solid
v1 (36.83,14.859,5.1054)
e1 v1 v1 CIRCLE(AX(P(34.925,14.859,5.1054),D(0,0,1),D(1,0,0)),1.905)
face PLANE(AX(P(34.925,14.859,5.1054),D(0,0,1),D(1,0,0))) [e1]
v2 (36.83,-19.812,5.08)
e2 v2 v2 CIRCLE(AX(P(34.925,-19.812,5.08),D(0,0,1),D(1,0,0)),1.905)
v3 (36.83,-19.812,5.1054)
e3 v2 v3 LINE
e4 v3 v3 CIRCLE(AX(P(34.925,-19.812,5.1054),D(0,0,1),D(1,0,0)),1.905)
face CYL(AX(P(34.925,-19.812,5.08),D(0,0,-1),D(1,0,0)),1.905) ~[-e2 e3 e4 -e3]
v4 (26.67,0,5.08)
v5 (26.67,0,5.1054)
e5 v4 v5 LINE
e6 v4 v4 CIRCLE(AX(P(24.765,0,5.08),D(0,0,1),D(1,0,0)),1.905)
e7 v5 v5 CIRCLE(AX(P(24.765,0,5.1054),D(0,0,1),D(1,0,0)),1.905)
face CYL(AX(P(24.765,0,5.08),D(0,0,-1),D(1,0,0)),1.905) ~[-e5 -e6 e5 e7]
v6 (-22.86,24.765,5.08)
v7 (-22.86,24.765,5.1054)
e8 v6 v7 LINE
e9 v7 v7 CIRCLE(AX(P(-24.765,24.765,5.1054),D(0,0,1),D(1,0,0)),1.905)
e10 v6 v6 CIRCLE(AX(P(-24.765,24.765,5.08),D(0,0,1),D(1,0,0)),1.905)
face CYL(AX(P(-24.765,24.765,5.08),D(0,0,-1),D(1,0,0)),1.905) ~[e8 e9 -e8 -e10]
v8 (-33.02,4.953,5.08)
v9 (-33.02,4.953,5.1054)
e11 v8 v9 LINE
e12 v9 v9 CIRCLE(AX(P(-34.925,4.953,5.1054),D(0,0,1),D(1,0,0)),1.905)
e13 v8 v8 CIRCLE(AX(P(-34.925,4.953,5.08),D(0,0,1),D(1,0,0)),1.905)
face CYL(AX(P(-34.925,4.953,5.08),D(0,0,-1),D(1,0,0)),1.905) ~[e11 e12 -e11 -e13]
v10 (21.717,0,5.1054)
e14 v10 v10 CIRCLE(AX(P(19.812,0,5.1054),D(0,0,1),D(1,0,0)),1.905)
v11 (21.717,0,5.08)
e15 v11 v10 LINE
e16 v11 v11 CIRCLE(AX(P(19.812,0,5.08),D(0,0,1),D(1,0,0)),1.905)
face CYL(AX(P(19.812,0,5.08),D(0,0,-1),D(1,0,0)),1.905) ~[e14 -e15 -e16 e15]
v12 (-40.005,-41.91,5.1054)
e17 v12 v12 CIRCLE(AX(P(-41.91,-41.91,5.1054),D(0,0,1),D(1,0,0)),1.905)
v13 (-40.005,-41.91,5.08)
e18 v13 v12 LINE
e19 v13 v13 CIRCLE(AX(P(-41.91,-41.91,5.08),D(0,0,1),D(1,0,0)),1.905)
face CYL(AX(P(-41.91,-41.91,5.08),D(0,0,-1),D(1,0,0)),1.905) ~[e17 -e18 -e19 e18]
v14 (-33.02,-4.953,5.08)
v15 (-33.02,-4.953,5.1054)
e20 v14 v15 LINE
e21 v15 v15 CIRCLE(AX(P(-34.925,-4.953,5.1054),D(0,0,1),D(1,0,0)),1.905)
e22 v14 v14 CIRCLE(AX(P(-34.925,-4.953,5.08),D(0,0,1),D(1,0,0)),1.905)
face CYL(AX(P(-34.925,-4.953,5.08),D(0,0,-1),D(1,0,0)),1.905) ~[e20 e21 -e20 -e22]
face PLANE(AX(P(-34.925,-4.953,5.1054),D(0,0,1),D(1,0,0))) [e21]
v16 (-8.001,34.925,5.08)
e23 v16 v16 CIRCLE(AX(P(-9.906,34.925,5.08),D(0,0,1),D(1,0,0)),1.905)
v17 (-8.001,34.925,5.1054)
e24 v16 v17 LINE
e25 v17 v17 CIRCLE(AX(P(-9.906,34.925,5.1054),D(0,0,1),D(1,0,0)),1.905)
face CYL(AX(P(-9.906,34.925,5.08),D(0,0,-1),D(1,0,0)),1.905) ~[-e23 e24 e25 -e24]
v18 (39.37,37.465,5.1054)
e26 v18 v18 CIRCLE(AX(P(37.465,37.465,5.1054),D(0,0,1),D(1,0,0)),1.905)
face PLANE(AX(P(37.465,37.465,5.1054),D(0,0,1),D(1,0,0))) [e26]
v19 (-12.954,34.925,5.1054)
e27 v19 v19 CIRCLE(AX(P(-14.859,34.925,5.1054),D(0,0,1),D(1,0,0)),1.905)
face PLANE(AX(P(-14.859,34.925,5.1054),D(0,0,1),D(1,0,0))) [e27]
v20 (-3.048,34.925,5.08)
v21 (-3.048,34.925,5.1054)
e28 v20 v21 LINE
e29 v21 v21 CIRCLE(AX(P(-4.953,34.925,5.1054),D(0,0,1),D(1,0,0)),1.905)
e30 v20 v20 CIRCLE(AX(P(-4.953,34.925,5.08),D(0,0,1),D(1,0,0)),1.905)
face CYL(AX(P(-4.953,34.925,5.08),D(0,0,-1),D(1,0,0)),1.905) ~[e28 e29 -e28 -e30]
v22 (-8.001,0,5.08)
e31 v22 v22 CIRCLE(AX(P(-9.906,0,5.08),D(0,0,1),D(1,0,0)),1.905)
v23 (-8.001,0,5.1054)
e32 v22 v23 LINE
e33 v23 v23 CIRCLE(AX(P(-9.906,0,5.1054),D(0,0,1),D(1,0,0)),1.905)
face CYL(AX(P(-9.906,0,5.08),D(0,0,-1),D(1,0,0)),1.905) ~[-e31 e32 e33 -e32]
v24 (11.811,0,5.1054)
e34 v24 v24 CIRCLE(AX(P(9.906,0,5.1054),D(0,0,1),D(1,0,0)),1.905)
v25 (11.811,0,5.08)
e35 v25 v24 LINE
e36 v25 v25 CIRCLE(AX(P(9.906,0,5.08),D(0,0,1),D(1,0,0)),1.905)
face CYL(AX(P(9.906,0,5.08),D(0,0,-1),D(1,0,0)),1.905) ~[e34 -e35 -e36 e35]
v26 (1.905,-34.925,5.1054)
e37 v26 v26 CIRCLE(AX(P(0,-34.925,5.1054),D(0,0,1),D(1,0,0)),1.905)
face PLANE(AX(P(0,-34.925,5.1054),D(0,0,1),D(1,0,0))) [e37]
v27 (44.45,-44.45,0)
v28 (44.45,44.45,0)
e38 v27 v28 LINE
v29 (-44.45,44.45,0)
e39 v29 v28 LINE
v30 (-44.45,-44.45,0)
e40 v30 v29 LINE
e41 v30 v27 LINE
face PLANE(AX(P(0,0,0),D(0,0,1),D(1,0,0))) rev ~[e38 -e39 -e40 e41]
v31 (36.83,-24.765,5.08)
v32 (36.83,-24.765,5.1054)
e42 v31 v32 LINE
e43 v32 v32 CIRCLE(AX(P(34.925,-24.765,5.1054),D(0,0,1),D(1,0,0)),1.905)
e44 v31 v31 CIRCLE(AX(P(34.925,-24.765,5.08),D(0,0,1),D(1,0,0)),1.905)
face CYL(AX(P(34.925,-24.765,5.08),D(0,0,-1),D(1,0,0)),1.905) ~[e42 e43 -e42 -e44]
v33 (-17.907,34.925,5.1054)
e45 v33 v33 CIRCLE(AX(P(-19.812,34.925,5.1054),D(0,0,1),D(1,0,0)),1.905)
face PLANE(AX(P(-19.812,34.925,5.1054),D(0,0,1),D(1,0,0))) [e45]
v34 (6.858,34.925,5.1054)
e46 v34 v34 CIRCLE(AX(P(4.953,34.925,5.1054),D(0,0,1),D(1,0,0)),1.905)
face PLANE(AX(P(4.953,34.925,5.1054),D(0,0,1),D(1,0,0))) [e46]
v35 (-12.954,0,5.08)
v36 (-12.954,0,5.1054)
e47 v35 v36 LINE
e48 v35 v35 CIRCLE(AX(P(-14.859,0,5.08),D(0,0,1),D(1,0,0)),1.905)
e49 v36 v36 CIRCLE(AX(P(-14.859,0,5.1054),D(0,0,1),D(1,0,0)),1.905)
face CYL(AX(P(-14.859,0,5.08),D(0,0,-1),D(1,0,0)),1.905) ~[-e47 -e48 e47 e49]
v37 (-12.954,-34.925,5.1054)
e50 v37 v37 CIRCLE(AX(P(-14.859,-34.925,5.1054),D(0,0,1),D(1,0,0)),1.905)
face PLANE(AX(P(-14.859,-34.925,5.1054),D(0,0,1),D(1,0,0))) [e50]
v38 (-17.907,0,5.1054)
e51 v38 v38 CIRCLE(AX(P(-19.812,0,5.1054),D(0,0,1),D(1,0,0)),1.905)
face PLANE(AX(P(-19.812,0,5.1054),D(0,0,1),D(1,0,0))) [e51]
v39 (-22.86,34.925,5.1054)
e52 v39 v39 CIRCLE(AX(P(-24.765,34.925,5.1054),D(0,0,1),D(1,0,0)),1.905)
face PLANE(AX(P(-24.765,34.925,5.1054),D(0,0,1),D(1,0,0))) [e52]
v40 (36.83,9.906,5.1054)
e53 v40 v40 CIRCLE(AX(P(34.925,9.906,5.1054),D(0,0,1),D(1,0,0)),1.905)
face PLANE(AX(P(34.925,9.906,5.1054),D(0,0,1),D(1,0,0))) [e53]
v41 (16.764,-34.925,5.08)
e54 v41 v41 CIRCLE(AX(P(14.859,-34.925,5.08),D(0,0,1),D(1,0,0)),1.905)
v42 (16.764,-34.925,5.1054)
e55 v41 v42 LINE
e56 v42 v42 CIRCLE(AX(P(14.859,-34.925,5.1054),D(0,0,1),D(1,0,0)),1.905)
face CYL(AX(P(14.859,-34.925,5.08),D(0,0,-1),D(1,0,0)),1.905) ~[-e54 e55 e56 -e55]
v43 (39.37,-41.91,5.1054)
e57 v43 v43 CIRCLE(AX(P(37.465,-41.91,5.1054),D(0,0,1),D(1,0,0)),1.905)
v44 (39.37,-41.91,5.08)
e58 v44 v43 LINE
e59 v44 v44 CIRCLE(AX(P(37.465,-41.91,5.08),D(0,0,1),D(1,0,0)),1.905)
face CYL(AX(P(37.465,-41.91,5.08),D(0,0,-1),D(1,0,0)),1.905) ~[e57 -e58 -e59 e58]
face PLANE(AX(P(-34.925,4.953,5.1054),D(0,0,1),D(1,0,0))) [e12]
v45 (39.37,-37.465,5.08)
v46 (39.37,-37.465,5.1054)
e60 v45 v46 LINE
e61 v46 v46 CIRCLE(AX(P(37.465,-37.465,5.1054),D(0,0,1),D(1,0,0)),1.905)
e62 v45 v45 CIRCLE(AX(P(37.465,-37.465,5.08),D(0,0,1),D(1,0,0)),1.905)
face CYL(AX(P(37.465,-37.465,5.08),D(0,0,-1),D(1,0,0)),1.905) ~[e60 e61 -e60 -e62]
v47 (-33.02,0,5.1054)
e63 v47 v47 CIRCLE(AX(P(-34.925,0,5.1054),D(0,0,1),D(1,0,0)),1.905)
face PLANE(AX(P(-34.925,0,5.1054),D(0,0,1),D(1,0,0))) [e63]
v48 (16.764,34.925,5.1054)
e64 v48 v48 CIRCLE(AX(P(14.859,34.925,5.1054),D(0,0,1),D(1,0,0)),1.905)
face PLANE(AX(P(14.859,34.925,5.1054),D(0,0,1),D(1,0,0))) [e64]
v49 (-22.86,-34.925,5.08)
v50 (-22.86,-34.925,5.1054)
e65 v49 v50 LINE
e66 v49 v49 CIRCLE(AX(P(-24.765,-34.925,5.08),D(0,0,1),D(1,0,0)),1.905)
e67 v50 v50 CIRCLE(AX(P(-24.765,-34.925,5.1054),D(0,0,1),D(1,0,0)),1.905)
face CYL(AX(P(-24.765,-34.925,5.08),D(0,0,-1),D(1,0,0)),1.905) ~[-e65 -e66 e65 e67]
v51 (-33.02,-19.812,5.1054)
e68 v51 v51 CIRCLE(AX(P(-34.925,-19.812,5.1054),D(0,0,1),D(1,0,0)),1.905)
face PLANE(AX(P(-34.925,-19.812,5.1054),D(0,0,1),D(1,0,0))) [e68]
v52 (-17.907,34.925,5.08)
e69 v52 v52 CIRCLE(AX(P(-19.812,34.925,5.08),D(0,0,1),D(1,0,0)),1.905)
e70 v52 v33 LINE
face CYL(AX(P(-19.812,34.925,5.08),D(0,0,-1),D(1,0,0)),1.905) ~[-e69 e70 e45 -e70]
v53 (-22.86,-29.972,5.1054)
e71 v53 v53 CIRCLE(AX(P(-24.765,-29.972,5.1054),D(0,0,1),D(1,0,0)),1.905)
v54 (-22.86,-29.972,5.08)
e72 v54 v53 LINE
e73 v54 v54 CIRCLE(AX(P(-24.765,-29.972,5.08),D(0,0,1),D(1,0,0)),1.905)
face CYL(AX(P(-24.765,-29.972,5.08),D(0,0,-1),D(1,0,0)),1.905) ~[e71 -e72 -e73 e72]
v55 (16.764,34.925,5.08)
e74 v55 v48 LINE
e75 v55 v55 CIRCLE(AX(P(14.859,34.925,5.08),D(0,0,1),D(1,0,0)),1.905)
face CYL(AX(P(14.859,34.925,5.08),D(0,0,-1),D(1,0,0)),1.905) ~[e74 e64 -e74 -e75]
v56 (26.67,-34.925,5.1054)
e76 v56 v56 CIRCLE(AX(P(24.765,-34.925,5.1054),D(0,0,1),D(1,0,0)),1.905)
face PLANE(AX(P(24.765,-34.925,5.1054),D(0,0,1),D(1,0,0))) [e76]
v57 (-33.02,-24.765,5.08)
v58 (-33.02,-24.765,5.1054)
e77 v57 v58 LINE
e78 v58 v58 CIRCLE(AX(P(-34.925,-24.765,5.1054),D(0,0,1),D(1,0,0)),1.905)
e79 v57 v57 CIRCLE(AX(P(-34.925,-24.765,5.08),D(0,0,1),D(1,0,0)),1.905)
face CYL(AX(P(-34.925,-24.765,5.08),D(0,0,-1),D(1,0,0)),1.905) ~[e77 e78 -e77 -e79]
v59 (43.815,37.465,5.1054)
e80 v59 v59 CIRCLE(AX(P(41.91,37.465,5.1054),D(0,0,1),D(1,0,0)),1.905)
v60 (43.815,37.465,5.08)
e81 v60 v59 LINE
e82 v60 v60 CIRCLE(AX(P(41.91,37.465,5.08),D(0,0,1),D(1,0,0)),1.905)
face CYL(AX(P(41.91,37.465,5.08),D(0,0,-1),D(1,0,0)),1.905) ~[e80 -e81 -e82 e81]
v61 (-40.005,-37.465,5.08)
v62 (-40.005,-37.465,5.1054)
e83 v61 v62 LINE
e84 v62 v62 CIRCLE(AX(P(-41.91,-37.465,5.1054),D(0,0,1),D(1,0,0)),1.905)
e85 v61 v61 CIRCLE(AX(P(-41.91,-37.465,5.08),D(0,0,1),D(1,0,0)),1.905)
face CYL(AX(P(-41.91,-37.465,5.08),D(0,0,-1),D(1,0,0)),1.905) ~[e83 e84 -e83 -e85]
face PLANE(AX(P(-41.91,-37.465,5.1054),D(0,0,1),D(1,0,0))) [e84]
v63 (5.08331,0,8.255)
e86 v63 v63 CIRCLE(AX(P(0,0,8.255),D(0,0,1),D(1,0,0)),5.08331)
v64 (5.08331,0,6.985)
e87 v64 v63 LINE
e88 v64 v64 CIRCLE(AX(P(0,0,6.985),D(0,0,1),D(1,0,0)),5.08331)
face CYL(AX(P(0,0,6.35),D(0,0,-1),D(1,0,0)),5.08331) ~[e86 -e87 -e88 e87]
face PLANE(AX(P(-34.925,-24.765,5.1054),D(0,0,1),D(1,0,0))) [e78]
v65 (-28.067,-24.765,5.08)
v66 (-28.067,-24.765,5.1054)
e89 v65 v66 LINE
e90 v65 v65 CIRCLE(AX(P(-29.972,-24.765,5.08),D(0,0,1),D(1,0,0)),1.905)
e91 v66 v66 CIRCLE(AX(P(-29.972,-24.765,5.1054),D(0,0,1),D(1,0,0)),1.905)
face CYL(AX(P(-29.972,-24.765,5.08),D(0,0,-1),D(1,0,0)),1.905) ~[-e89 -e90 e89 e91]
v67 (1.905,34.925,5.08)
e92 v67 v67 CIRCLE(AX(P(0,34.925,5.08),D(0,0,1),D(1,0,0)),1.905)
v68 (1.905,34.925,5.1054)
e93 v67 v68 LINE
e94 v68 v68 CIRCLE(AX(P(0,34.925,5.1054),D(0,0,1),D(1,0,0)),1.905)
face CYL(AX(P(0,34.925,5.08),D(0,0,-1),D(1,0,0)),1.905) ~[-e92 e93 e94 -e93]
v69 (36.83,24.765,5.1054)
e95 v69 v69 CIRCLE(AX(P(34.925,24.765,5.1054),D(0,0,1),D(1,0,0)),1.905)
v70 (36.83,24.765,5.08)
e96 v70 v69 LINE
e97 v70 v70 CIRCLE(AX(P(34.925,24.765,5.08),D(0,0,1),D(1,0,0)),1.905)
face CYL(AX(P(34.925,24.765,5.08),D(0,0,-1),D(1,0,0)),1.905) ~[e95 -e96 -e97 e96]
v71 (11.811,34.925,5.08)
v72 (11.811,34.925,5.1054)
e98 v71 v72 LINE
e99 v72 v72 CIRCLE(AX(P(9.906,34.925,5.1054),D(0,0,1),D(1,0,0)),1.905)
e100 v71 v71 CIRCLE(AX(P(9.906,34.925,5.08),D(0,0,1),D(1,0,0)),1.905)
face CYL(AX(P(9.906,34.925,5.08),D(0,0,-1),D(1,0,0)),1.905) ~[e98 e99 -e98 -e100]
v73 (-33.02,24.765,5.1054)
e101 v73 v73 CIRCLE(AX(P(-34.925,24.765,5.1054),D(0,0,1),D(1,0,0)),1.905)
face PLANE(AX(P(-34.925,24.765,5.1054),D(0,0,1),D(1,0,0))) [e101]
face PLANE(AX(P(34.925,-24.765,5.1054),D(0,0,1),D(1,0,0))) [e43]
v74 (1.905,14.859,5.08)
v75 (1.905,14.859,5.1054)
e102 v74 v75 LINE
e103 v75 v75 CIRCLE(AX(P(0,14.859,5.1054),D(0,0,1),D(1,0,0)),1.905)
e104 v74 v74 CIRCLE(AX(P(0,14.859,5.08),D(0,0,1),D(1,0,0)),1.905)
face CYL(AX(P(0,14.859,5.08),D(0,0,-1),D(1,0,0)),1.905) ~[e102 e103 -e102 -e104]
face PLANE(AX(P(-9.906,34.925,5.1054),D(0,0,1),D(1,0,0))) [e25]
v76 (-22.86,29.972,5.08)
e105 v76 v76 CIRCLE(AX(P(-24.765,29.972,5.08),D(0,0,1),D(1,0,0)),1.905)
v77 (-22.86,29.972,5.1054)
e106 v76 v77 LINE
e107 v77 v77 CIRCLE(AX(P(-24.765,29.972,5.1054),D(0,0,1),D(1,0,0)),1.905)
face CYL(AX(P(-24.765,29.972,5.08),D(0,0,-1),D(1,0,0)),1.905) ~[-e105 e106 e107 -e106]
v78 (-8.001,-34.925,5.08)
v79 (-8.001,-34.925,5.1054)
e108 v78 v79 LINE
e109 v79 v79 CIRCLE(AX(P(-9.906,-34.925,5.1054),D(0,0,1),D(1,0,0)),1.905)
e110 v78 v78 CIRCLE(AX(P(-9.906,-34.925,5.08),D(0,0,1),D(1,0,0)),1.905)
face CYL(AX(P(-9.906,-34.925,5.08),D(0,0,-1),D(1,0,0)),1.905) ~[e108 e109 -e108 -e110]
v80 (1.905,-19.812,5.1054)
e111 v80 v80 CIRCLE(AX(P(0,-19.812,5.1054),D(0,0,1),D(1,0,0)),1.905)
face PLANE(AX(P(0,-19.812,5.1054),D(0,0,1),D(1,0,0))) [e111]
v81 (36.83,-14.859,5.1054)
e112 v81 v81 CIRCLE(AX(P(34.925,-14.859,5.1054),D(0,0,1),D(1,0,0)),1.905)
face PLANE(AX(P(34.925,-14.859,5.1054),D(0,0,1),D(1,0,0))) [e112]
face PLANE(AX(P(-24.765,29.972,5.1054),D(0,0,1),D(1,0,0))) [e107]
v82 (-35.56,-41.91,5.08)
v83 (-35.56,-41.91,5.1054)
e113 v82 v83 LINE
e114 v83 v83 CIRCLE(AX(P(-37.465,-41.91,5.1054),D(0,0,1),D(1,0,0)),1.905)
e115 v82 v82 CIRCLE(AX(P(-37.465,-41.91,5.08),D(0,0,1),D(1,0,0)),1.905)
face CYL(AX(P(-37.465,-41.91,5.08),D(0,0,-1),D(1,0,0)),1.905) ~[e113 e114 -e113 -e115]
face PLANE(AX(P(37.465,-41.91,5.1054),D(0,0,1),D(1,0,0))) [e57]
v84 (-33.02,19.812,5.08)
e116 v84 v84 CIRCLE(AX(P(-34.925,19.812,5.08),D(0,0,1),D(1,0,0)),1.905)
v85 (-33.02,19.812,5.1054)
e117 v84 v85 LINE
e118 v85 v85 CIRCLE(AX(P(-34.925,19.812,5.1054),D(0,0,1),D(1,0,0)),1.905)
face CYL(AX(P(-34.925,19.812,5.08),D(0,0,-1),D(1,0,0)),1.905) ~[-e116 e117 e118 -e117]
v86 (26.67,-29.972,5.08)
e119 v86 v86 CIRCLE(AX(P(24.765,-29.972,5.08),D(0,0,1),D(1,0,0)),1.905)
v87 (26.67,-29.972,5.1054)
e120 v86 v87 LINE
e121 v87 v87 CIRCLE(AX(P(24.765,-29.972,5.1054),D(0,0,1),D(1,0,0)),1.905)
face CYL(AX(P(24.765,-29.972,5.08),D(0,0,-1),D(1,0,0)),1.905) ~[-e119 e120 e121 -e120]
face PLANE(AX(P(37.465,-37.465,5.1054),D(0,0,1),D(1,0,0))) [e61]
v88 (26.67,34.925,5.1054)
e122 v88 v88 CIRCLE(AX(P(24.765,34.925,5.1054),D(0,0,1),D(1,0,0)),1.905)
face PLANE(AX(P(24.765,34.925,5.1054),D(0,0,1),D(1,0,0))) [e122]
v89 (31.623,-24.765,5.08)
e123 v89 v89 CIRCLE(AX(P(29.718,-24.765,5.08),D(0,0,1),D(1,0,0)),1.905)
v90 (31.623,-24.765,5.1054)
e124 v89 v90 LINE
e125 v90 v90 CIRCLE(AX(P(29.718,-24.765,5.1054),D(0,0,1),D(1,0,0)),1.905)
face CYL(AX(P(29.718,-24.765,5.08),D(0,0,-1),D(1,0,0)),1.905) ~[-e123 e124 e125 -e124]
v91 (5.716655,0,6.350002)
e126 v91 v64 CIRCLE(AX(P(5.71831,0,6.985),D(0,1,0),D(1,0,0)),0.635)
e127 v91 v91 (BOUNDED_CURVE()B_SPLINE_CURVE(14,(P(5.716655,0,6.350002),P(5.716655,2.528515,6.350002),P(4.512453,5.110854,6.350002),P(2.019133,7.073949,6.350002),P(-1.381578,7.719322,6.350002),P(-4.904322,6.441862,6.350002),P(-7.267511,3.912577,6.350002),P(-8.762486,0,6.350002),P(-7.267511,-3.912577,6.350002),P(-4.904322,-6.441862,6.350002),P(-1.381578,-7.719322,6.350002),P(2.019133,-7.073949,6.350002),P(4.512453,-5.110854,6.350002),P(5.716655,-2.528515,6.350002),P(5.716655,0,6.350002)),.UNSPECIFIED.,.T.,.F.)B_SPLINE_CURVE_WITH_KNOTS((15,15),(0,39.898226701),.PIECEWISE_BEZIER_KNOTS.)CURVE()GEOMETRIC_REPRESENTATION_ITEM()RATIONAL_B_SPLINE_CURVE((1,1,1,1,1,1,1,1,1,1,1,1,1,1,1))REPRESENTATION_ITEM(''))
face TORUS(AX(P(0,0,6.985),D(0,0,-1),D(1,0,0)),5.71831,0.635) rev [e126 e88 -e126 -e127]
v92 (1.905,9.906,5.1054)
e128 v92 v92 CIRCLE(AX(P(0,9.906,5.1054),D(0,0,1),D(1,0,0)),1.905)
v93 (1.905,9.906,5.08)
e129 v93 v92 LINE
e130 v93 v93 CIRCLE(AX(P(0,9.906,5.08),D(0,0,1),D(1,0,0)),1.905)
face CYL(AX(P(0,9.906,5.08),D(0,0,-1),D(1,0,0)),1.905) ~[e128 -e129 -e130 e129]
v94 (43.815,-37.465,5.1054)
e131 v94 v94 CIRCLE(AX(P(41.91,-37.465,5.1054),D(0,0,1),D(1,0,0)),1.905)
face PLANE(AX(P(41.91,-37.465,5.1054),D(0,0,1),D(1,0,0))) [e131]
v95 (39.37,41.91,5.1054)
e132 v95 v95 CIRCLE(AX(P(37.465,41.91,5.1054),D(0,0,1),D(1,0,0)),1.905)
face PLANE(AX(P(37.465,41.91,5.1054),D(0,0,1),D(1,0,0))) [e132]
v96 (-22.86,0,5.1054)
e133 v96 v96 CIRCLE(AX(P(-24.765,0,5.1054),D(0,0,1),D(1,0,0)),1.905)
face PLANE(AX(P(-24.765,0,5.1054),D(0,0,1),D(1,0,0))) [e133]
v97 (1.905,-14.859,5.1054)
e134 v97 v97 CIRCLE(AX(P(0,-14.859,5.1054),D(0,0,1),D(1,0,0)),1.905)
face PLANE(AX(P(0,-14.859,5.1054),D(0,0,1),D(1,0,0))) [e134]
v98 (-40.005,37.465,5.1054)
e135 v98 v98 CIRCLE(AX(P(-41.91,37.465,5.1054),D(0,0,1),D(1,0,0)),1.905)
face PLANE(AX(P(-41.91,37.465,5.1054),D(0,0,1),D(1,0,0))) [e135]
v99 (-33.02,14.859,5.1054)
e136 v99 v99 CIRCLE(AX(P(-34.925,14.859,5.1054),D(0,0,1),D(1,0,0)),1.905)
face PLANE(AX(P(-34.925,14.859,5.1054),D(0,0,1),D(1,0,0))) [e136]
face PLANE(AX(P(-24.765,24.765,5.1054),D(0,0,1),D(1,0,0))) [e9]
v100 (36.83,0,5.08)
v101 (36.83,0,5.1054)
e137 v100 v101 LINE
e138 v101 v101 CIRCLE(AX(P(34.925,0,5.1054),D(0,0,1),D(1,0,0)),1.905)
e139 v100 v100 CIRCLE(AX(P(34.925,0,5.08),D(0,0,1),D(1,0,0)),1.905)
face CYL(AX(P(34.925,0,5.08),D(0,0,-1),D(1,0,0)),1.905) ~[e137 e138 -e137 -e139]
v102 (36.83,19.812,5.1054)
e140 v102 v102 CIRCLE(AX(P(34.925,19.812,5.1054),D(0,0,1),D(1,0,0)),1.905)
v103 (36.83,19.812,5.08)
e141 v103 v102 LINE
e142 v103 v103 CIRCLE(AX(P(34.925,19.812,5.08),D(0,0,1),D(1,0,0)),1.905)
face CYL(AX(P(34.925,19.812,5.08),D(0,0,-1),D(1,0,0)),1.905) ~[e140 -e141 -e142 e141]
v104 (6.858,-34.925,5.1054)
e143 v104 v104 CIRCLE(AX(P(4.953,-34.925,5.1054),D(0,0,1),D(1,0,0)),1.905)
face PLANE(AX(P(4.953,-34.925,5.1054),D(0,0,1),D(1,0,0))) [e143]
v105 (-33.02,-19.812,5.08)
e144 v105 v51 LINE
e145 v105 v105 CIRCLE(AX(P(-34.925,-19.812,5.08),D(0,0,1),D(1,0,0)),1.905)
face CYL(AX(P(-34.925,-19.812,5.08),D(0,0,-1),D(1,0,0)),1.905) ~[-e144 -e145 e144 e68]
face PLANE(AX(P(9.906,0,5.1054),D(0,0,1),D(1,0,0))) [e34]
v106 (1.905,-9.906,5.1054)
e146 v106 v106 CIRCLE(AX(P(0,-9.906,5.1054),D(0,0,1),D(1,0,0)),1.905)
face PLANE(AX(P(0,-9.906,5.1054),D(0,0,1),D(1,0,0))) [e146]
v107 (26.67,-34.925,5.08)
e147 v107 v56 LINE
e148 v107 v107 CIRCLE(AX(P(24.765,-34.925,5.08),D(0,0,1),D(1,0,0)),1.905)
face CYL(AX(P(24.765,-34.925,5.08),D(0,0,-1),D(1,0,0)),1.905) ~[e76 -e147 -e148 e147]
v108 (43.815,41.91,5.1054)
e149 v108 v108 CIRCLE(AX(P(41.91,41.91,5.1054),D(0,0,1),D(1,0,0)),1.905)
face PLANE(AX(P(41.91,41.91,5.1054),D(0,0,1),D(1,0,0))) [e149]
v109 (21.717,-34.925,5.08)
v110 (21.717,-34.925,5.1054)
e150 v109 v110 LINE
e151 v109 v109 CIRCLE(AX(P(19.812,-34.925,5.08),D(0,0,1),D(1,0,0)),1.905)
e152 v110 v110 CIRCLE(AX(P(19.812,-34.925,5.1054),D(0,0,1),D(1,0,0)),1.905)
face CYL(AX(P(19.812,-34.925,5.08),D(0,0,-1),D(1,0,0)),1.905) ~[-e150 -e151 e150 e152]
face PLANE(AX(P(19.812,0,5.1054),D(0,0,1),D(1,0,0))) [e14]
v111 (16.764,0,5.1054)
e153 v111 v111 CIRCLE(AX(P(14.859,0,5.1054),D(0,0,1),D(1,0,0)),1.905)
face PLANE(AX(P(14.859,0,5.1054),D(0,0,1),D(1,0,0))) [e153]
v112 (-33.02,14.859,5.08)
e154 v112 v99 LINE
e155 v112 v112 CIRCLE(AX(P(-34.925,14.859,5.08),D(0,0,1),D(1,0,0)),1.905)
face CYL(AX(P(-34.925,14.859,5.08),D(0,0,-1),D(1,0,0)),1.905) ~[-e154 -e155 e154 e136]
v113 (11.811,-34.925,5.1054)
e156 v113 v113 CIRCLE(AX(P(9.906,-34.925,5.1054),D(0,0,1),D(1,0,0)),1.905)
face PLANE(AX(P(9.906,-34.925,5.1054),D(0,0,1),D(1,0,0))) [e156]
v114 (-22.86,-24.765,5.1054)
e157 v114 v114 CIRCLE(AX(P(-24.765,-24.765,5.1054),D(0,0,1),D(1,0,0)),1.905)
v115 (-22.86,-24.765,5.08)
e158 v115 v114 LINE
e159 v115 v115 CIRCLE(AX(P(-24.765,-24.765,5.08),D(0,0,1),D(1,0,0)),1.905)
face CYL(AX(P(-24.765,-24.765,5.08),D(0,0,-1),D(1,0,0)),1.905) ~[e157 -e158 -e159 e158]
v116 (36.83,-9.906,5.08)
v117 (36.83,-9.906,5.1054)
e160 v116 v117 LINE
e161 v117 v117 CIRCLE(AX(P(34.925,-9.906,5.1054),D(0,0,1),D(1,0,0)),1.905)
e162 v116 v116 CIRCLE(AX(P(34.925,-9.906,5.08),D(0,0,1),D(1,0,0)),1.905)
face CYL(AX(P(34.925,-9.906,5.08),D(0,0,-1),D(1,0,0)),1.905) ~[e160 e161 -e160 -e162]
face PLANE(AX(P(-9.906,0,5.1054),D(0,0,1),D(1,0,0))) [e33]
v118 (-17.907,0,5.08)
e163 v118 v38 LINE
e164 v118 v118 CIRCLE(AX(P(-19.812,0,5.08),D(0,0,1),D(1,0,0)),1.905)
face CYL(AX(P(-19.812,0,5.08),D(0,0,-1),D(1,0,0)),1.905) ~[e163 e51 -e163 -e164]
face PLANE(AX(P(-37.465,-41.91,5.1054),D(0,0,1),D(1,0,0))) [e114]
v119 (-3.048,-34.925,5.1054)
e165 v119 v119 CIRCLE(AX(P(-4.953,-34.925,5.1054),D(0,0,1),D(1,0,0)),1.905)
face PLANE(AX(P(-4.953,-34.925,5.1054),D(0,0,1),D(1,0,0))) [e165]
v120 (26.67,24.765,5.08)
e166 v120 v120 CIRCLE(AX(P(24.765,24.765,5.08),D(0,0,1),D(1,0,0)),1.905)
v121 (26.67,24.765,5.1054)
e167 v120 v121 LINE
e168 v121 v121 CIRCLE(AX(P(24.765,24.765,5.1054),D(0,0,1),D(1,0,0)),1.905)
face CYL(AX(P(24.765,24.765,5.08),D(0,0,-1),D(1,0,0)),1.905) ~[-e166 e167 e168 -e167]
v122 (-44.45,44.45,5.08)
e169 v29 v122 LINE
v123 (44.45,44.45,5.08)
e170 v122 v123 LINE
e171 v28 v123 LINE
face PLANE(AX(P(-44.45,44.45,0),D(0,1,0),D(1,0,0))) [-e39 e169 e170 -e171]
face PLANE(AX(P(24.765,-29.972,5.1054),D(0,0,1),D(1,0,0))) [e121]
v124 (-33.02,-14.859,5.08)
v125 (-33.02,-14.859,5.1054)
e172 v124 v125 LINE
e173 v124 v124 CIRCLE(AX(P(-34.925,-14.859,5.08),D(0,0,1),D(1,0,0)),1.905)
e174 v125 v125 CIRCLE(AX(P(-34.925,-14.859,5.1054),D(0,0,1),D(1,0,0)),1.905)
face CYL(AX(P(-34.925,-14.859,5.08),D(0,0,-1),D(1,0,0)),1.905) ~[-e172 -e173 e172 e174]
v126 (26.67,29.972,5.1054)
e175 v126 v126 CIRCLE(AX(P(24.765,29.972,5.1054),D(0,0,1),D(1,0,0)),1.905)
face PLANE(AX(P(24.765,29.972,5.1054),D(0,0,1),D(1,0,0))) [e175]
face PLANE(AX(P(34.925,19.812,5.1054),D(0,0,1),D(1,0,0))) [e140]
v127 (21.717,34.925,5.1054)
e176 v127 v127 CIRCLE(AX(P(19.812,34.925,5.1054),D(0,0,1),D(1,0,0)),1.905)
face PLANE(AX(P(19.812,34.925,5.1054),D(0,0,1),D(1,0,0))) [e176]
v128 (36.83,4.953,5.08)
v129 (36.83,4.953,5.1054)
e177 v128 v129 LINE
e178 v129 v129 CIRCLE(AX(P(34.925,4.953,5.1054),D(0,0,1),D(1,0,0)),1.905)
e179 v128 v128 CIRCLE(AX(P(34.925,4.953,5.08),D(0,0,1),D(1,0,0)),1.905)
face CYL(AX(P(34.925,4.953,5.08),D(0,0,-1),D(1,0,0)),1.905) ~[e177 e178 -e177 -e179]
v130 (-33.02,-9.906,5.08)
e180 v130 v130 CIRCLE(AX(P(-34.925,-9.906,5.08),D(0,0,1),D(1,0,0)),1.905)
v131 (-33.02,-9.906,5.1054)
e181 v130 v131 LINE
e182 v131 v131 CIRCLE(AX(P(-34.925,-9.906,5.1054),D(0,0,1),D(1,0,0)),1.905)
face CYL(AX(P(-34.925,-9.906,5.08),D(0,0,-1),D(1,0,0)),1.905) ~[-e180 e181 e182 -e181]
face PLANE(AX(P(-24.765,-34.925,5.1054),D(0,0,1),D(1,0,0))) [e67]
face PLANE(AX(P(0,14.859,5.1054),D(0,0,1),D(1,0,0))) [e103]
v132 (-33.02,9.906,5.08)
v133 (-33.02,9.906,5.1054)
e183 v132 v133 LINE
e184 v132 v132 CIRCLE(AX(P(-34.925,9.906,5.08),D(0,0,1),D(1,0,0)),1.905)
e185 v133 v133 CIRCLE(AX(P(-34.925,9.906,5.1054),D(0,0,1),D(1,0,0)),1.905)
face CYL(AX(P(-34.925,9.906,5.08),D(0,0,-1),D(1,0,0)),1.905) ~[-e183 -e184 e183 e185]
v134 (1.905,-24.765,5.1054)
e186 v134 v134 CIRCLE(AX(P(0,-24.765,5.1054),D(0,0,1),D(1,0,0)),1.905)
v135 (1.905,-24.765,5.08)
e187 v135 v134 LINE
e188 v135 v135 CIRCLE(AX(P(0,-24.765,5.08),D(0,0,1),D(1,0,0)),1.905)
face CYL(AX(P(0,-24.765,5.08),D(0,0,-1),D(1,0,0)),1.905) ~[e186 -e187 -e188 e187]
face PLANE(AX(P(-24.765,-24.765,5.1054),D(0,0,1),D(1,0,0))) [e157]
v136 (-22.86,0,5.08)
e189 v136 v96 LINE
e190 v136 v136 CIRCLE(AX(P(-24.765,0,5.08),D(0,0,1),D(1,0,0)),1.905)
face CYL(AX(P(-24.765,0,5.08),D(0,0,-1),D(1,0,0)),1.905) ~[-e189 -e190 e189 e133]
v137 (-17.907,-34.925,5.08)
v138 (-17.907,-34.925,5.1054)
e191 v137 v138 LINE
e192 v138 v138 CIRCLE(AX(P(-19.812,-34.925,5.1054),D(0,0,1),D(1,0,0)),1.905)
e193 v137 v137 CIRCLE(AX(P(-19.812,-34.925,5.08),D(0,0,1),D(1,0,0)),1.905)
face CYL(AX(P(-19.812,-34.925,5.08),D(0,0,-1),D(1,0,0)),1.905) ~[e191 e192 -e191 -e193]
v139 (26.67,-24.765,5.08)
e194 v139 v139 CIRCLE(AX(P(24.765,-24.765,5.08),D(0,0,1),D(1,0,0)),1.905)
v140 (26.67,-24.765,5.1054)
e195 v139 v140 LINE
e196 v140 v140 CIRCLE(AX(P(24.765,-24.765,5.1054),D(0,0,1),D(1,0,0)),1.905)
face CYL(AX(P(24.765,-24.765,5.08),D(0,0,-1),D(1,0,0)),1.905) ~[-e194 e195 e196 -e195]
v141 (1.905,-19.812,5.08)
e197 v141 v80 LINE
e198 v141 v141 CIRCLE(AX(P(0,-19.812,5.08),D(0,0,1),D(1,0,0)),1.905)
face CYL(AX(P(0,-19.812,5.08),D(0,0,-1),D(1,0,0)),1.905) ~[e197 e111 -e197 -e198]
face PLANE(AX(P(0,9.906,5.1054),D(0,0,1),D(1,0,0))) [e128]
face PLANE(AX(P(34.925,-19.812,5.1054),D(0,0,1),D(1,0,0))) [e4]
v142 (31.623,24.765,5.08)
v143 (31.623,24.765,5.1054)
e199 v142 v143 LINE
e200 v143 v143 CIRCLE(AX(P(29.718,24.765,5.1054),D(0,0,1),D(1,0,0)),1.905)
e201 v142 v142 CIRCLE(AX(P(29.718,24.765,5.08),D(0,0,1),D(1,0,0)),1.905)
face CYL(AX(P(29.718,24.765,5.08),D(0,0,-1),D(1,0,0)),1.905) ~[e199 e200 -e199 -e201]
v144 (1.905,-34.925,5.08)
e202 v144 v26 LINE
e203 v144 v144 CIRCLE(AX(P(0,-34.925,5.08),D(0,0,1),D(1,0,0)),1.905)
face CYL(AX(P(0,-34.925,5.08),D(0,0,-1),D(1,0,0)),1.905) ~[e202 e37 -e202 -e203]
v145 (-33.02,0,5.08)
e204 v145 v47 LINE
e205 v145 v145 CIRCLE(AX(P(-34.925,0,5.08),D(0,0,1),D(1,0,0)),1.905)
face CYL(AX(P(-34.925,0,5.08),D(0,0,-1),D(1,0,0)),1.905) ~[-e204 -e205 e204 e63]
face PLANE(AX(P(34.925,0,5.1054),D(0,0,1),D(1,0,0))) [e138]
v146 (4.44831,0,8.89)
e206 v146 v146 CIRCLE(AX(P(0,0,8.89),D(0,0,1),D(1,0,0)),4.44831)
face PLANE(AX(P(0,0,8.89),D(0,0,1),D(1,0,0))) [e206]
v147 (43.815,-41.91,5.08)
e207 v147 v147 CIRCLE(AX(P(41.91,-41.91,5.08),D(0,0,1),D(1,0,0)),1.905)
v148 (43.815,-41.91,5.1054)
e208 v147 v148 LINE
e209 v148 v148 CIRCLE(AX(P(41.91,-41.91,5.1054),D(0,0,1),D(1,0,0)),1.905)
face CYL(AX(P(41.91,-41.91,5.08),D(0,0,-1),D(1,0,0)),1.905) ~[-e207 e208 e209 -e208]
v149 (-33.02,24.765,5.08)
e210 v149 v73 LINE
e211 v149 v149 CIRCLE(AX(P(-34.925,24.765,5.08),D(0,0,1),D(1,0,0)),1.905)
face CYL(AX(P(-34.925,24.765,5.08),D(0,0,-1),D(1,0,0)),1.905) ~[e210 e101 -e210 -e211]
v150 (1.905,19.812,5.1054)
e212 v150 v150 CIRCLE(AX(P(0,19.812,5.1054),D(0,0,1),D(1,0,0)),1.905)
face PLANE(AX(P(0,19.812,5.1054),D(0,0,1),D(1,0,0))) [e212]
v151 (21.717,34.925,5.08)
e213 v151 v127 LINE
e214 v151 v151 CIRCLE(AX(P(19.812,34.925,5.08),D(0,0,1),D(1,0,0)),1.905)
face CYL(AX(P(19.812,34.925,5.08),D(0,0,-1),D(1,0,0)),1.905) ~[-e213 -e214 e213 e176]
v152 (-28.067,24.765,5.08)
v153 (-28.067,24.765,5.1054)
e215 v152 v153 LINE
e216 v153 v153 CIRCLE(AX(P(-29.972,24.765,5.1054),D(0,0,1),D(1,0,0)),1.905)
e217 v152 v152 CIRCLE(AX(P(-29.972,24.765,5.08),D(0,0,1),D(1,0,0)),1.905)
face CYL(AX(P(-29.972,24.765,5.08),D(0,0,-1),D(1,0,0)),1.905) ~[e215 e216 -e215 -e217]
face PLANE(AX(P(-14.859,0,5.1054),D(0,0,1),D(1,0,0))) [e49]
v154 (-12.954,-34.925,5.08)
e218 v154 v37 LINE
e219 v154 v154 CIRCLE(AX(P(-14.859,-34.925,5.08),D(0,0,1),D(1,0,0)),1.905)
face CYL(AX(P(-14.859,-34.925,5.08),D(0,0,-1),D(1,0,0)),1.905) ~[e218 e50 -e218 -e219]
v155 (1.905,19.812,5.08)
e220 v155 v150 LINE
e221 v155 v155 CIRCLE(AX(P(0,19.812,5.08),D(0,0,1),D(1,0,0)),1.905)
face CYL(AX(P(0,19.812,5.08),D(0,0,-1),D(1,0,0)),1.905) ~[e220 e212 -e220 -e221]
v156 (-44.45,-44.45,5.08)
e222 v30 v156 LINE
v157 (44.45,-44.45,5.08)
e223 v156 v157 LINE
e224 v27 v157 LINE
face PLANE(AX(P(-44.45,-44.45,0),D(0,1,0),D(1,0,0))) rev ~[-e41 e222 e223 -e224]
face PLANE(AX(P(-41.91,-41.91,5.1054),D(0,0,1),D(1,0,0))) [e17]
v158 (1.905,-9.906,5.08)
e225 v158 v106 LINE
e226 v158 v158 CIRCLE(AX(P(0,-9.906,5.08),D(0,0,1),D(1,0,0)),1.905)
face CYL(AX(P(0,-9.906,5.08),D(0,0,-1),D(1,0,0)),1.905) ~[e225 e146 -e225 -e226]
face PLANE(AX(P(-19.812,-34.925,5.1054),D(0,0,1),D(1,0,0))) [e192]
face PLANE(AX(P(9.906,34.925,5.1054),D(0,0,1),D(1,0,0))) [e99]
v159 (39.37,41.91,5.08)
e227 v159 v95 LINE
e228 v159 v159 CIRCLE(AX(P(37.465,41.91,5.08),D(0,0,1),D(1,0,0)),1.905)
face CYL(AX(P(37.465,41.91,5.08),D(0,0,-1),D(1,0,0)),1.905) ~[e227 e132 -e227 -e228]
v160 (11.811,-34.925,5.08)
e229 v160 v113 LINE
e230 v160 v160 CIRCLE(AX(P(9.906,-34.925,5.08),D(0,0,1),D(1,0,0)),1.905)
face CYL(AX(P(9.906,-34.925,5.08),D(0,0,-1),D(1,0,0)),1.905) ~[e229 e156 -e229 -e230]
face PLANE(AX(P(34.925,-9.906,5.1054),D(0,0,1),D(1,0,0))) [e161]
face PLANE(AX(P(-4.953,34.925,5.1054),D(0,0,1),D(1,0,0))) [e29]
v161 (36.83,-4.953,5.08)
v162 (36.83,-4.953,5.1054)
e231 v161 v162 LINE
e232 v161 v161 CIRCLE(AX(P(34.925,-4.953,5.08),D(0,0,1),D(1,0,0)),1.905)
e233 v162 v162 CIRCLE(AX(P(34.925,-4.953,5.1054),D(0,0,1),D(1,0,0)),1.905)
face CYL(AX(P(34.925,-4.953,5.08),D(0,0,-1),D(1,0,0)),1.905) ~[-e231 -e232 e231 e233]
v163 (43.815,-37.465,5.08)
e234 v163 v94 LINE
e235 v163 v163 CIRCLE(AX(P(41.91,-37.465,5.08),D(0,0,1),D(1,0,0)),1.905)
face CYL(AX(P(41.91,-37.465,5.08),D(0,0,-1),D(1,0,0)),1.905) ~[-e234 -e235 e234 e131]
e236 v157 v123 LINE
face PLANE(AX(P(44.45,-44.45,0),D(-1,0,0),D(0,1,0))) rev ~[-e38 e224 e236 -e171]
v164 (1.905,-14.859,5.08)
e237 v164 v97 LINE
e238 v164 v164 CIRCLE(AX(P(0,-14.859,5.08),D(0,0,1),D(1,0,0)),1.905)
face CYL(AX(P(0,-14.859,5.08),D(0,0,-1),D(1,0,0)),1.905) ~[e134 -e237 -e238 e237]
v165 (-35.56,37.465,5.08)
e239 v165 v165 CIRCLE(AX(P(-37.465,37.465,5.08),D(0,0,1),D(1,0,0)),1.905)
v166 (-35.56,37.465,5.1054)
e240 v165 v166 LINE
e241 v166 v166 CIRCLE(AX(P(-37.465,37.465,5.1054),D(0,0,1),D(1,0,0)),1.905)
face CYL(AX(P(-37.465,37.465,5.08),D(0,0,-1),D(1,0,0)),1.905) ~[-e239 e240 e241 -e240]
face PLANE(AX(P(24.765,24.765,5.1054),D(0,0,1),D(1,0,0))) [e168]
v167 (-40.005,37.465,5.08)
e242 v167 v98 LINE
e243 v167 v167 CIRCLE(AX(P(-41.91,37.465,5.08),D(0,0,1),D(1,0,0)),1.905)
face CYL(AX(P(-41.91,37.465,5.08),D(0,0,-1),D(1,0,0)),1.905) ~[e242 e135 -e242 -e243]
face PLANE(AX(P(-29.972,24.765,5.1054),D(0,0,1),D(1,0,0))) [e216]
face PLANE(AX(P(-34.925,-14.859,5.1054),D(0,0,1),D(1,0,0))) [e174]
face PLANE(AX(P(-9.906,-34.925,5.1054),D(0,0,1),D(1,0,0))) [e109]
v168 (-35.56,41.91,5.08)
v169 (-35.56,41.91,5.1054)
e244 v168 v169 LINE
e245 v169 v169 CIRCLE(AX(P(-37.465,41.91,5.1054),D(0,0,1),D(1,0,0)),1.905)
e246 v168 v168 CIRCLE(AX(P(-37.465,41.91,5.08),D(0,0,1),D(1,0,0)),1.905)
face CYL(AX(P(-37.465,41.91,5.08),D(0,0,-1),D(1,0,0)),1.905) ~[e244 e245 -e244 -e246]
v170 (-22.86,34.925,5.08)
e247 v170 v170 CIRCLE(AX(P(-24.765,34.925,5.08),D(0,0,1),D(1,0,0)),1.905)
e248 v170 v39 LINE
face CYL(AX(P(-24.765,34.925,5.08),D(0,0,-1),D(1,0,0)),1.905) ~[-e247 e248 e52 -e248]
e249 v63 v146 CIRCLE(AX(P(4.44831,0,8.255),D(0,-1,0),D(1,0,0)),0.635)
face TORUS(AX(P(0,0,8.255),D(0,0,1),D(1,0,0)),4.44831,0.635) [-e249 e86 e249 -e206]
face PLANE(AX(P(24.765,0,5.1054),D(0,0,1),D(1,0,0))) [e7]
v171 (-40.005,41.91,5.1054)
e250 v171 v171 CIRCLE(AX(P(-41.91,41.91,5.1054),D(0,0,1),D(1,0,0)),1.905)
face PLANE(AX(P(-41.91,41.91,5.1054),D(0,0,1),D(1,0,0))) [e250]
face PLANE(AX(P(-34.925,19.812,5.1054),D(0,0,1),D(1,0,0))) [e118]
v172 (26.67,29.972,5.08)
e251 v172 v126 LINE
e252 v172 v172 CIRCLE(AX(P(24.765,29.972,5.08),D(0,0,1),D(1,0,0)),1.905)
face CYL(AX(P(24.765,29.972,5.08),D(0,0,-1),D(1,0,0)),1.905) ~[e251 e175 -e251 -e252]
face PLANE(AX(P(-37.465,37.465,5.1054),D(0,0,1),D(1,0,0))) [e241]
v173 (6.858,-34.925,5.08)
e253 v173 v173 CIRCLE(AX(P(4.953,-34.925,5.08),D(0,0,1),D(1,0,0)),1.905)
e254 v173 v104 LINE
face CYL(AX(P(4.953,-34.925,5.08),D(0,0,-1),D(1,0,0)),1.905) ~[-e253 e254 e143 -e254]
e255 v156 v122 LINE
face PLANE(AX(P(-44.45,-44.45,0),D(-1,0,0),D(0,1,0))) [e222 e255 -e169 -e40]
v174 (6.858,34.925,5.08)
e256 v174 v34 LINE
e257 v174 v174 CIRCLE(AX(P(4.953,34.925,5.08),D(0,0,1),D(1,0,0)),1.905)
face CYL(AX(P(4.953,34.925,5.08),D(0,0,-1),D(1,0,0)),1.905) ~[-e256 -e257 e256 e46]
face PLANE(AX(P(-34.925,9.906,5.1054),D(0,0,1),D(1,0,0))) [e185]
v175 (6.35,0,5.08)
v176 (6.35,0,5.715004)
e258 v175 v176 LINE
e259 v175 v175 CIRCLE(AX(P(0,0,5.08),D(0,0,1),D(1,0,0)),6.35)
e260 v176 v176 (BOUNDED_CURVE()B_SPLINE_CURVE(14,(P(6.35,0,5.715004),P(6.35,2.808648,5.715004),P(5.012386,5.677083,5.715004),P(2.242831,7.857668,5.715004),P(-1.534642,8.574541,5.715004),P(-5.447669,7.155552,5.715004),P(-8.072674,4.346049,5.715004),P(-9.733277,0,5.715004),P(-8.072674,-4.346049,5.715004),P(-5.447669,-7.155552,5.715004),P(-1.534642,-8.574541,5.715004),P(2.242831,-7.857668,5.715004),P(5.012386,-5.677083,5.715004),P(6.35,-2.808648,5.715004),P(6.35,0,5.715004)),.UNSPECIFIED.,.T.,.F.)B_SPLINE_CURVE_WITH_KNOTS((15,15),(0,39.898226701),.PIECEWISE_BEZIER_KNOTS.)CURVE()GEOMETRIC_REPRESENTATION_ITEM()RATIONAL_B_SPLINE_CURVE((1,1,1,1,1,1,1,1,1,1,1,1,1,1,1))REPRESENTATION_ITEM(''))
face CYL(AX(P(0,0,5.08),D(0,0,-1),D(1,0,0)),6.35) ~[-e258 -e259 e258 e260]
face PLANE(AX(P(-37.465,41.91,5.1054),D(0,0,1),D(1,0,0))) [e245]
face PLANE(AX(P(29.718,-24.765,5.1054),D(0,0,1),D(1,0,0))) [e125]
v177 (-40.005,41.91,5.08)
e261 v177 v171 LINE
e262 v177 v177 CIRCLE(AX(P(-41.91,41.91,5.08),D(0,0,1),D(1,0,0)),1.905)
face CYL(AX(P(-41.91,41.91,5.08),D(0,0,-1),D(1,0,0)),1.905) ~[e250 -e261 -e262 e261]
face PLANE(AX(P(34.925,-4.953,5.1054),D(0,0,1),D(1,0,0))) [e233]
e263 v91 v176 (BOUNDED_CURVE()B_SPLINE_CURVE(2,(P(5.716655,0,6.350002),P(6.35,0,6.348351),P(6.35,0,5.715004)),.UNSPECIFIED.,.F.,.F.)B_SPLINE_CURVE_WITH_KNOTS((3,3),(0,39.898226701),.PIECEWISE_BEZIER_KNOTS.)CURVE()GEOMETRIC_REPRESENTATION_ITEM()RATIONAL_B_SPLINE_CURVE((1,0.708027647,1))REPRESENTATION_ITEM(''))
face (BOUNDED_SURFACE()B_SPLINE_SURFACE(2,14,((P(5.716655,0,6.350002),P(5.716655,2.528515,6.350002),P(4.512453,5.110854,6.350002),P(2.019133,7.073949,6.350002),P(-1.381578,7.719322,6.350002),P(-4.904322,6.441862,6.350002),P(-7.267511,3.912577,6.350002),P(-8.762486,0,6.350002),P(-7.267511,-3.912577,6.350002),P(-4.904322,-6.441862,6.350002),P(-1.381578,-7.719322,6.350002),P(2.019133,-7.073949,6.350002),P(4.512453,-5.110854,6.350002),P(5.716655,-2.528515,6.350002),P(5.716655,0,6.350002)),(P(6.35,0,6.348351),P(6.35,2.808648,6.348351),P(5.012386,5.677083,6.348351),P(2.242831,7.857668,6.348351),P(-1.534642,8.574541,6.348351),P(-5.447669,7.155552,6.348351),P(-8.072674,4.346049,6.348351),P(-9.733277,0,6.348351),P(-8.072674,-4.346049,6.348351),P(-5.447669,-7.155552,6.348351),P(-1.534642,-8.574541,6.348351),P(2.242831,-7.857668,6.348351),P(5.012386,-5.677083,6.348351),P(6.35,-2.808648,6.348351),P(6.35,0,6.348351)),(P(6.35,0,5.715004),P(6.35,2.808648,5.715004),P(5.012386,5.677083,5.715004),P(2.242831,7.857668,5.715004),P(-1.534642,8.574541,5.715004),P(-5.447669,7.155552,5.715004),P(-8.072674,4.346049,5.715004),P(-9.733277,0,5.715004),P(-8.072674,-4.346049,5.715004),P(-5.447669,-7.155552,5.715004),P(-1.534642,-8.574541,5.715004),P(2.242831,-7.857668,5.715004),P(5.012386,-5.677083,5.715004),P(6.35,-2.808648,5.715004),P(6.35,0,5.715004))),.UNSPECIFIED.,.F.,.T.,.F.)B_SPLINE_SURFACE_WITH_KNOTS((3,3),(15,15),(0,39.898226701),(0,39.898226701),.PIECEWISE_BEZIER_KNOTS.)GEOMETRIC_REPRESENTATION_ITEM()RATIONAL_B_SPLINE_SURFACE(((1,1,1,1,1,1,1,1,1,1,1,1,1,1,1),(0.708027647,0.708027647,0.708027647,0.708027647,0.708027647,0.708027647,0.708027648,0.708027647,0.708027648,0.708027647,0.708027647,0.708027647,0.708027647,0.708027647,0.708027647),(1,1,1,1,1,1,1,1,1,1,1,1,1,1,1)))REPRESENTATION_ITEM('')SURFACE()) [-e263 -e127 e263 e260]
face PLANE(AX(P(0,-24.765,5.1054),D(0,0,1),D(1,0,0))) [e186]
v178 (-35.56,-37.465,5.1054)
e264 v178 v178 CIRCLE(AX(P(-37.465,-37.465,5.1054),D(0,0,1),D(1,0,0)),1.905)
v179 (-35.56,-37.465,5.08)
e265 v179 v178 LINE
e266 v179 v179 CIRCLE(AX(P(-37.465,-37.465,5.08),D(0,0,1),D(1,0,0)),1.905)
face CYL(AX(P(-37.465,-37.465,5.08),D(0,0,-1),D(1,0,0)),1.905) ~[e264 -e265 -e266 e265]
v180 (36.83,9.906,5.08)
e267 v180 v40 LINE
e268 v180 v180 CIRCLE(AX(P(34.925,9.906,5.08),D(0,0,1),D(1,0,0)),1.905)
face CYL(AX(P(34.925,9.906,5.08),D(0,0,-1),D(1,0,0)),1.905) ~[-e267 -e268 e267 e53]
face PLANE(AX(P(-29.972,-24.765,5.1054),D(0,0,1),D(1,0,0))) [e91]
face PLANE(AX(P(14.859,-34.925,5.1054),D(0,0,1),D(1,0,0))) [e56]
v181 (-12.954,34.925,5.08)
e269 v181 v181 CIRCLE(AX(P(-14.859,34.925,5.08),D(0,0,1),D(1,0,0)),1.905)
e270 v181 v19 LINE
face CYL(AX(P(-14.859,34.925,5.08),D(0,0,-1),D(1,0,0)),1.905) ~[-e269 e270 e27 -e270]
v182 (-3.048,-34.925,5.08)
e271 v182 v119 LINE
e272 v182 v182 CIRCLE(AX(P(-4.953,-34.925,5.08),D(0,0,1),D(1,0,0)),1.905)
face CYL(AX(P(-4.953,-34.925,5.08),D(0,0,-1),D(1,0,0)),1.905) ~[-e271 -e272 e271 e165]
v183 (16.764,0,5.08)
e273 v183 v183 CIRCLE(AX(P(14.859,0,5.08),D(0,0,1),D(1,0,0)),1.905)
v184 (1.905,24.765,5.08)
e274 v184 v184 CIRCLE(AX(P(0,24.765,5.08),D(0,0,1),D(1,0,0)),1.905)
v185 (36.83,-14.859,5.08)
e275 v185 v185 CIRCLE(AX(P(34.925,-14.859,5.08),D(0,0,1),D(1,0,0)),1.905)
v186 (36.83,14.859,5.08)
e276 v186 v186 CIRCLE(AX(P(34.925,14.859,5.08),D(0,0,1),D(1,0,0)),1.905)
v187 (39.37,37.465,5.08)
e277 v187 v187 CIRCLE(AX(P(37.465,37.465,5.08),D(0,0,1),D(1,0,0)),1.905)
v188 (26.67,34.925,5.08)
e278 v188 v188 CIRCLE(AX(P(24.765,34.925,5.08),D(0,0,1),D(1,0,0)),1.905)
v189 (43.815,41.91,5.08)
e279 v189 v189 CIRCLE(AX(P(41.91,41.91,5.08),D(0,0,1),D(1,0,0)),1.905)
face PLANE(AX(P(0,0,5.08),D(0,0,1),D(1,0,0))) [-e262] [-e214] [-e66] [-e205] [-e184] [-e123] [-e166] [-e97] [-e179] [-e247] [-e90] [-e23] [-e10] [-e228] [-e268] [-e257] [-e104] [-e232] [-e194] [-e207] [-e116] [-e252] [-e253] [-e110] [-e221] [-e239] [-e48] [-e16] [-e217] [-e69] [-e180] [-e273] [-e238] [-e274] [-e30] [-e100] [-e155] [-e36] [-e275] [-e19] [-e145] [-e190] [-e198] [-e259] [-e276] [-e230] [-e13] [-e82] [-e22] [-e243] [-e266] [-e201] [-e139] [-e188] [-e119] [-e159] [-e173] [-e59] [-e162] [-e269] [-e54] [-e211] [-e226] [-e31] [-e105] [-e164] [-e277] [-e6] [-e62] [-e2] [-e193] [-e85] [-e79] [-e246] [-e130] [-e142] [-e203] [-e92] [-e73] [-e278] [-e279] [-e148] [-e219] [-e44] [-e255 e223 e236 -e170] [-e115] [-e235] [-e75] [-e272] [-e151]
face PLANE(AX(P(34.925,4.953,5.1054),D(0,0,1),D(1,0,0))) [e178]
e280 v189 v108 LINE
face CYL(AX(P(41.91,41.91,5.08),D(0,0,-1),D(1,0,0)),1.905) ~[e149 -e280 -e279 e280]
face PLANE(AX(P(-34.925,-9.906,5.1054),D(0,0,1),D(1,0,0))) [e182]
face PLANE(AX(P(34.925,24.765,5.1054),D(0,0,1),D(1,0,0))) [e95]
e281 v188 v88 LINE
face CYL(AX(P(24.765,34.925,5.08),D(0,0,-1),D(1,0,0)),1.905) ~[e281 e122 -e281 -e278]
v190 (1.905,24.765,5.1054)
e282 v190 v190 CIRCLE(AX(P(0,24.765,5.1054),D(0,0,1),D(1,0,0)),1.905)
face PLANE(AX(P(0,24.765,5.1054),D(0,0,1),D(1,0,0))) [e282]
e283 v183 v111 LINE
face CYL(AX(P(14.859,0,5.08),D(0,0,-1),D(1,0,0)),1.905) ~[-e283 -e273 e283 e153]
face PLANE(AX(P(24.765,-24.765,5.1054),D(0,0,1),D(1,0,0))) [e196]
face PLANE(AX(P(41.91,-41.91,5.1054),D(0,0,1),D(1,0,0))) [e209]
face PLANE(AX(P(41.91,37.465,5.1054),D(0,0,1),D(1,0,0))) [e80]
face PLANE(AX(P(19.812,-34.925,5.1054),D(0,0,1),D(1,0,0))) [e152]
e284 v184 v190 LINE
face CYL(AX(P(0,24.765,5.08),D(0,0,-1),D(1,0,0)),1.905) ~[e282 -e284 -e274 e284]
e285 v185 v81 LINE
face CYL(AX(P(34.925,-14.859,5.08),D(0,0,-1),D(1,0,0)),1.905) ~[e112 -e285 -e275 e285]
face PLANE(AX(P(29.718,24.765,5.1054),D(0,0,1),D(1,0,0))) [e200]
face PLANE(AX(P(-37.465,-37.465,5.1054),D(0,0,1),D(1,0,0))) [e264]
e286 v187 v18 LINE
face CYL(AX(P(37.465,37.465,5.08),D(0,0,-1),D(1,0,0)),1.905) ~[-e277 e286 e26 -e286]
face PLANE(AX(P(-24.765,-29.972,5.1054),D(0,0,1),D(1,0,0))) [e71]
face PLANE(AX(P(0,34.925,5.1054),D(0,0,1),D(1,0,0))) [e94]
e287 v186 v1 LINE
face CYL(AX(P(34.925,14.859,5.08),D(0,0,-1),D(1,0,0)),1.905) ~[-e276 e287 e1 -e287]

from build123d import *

# Parameters (mm, degrees)
F0_W     = 88.9
F0_H     = 88.9
F1_DEPTH = 5.08
F2_R     = 1.905
F3_DEPTH = 0.0254
F4_R     = 1.905
F5_DEPTH = 0.0254
F6_R     = 6.35
F7_DEPTH = 1.27
F8_R     = 5.08331
F9_DEPTH = 2.54
F10_R    = 0.635
F11_R    = 0.635


with BuildPart() as f1:
    # F0 (on Top) → F1 (new body)
    with BuildSketch(Plane.XY):
        Rectangle(F0_W, F0_H)
    extrude(amount=F1_DEPTH)

    # F2 (on face) → F3 (join)
    with BuildSketch(Plane.XY.offset(5.08)):
        with Locations((-34.925, -24.765)):
            Circle(F2_R)
        with Locations((-29.972, -24.765)):
            Circle(F2_R)
        with Locations((-24.765, -24.765)):
            Circle(F2_R)
        with Locations((-24.765, -29.972)):
            Circle(F2_R)
        with Locations((-24.765, -34.925)):
            Circle(F2_R)
        with Locations((-19.812, -34.925)):
            Circle(F2_R)
        with Locations((-14.859, -34.925)):
            Circle(F2_R)
        with Locations((-9.906, -34.925)):
            Circle(F2_R)
        with Locations((-4.953, -34.925)):
            Circle(F2_R)
        with Locations((0, -34.925)):
            Circle(F2_R)
        with Locations((4.953, -34.925)):
            Circle(F2_R)
        with Locations((9.906, -34.925)):
            Circle(F2_R)
        with Locations((14.859, -34.925)):
            Circle(F2_R)
        with Locations((19.812, -34.925)):
            Circle(F2_R)
        with Locations((24.765, -34.925)):
            Circle(F2_R)
        with Locations((24.765, -29.972)):
            Circle(F2_R)
        with Locations((24.765, -24.765)):
            Circle(F2_R)
        with Locations((29.718, -24.765)):
            Circle(F2_R)
        with Locations((34.925, -24.765)):
            Circle(F2_R)
        with Locations((34.925, -19.812)):
            Circle(F2_R)
        with Locations((34.925, -14.859)):
            Circle(F2_R)
        with Locations((34.925, -9.906)):
            Circle(F2_R)
        with Locations((34.925, -4.953)):
            Circle(F2_R)
        with Locations((34.925, 0)):
            Circle(F2_R)
        with Locations((34.925, 4.953)):
            Circle(F2_R)
        with Locations((34.925, 9.906)):
            Circle(F2_R)
        with Locations((34.925, 14.859)):
            Circle(F2_R)
        with Locations((34.925, 19.812)):
            Circle(F2_R)
        with Locations((34.925, 24.765)):
            Circle(F2_R)
        with Locations((29.718, 24.765)):
            Circle(F2_R)
        with Locations((24.765, 24.765)):
            Circle(F2_R)
        with Locations((24.765, 29.972)):
            Circle(F2_R)
        with Locations((24.765, 34.925)):
            Circle(F2_R)
        with Locations((19.812, 34.925)):
            Circle(F2_R)
        with Locations((14.859, 34.925)):
            Circle(F2_R)
        with Locations((9.906, 34.925)):
            Circle(F2_R)
        with Locations((4.953, 34.925)):
            Circle(F2_R)
        with Locations((0, 34.925)):
            Circle(F2_R)
        with Locations((-4.953, 34.925)):
            Circle(F2_R)
        with Locations((-14.859, 34.925)):
            Circle(F2_R)
        with Locations((-19.812, 34.925)):
            Circle(F2_R)
        with Locations((-9.906, 34.925)):
            Circle(F2_R)
        with Locations((-24.765, 34.925)):
            Circle(F2_R)
        with Locations((-24.765, 29.972)):
            Circle(F2_R)
        with Locations((-24.765, 24.765)):
            Circle(F2_R)
        with Locations((-29.972, 24.765)):
            Circle(F2_R)
        with Locations((-34.925, 24.765)):
            Circle(F2_R)
        with Locations((-34.925, 19.812)):
            Circle(F2_R)
        with Locations((-34.925, 14.859)):
            Circle(F2_R)
        with Locations((-34.925, 9.906)):
            Circle(F2_R)
        with Locations((-34.925, 4.953)):
            Circle(F2_R)
        with Locations((-34.925, 0)):
            Circle(F2_R)
        with Locations((-34.925, -4.953)):
            Circle(F2_R)
        with Locations((-34.925, -9.906)):
            Circle(F2_R)
        with Locations((-34.925, -14.859)):
            Circle(F2_R)
        with Locations((-34.925, -19.812)):
            Circle(F2_R)
        with Locations((-24.765, 0)):
            Circle(F2_R)
        with Locations((-19.812, 0)):
            Circle(F2_R)
        with Locations((-14.859, 0)):
            Circle(F2_R)
        with Locations((-9.906, 0)):
            Circle(F2_R)
        with Locations((9.906, 0)):
            Circle(F2_R)
        with Locations((14.859, 0)):
            Circle(F2_R)
        with Locations((19.812, 0)):
            Circle(F2_R)
        with Locations((24.765, 0)):
            Circle(F2_R)
        with Locations((0, 9.906)):
            Circle(F2_R)
        with Locations((0, 14.859)):
            Circle(F2_R)
        with Locations((0, 19.812)):
            Circle(F2_R)
        with Locations((0, 24.765)):
            Circle(F2_R)
        with Locations((0, -9.906)):
            Circle(F2_R)
        with Locations((0, -14.859)):
            Circle(F2_R)
        with Locations((0, -19.812)):
            Circle(F2_R)
        with Locations((0, -24.765)):
            Circle(F2_R)
    extrude(amount=F3_DEPTH)

    # F4 (on face) → F5 (join)
    with BuildSketch(Plane.XY.offset(5.08)):
        with Locations((-41.91, 41.91)):
            Circle(F4_R)
        with Locations((-37.465, 41.91)):
            Circle(F4_R)
        with Locations((-37.465, 37.465)):
            Circle(F4_R)
        with Locations((-41.91, 37.465)):
            Circle(F4_R)
        with Locations((37.465, 41.91)):
            Circle(F4_R)
        with Locations((41.91, 41.91)):
            Circle(F4_R)
        with Locations((41.91, 37.465)):
            Circle(F4_R)
        with Locations((37.465, 37.465)):
            Circle(F4_R)
        with Locations((37.465, -37.465)):
            Circle(F4_R)
        with Locations((41.91, -37.465)):
            Circle(F4_R)
        with Locations((41.91, -41.91)):
            Circle(F4_R)
        with Locations((37.465, -41.91)):
            Circle(F4_R)
        with Locations((-37.465, -41.91)):
            Circle(F4_R)
        with Locations((-37.465, -37.465)):
            Circle(F4_R)
        with Locations((-41.91, -37.465)):
            Circle(F4_R)
        with Locations((-41.91, -41.91)):
            Circle(F4_R)
    extrude(amount=F5_DEPTH)

    # F6 (on face) → F7 (join)
    with BuildSketch(Plane.XY.offset(5.08)):
        Circle(F6_R)
    extrude(amount=F7_DEPTH)

    # F8 (on face) → F9 (join)
    with BuildSketch(Plane.XY.offset(6.35)):
        Circle(F8_R)
    extrude(amount=F9_DEPTH)

    # F10
    f10_edges = [f1.edges().sort_by_distance(p)[0] for p in [
        (-5.08331, 0, 8.89),
        (-5.08331, 0, 6.35),
    ]]
    fillet(f10_edges, radius=F10_R)

    # F11
    f11_edges = [f1.edges().sort_by_distance(p)[0] for p in [
        (-6.35, 0, 6.35),
    ]]
    fillet(f11_edges, radius=F11_R)


solid = f1.part
